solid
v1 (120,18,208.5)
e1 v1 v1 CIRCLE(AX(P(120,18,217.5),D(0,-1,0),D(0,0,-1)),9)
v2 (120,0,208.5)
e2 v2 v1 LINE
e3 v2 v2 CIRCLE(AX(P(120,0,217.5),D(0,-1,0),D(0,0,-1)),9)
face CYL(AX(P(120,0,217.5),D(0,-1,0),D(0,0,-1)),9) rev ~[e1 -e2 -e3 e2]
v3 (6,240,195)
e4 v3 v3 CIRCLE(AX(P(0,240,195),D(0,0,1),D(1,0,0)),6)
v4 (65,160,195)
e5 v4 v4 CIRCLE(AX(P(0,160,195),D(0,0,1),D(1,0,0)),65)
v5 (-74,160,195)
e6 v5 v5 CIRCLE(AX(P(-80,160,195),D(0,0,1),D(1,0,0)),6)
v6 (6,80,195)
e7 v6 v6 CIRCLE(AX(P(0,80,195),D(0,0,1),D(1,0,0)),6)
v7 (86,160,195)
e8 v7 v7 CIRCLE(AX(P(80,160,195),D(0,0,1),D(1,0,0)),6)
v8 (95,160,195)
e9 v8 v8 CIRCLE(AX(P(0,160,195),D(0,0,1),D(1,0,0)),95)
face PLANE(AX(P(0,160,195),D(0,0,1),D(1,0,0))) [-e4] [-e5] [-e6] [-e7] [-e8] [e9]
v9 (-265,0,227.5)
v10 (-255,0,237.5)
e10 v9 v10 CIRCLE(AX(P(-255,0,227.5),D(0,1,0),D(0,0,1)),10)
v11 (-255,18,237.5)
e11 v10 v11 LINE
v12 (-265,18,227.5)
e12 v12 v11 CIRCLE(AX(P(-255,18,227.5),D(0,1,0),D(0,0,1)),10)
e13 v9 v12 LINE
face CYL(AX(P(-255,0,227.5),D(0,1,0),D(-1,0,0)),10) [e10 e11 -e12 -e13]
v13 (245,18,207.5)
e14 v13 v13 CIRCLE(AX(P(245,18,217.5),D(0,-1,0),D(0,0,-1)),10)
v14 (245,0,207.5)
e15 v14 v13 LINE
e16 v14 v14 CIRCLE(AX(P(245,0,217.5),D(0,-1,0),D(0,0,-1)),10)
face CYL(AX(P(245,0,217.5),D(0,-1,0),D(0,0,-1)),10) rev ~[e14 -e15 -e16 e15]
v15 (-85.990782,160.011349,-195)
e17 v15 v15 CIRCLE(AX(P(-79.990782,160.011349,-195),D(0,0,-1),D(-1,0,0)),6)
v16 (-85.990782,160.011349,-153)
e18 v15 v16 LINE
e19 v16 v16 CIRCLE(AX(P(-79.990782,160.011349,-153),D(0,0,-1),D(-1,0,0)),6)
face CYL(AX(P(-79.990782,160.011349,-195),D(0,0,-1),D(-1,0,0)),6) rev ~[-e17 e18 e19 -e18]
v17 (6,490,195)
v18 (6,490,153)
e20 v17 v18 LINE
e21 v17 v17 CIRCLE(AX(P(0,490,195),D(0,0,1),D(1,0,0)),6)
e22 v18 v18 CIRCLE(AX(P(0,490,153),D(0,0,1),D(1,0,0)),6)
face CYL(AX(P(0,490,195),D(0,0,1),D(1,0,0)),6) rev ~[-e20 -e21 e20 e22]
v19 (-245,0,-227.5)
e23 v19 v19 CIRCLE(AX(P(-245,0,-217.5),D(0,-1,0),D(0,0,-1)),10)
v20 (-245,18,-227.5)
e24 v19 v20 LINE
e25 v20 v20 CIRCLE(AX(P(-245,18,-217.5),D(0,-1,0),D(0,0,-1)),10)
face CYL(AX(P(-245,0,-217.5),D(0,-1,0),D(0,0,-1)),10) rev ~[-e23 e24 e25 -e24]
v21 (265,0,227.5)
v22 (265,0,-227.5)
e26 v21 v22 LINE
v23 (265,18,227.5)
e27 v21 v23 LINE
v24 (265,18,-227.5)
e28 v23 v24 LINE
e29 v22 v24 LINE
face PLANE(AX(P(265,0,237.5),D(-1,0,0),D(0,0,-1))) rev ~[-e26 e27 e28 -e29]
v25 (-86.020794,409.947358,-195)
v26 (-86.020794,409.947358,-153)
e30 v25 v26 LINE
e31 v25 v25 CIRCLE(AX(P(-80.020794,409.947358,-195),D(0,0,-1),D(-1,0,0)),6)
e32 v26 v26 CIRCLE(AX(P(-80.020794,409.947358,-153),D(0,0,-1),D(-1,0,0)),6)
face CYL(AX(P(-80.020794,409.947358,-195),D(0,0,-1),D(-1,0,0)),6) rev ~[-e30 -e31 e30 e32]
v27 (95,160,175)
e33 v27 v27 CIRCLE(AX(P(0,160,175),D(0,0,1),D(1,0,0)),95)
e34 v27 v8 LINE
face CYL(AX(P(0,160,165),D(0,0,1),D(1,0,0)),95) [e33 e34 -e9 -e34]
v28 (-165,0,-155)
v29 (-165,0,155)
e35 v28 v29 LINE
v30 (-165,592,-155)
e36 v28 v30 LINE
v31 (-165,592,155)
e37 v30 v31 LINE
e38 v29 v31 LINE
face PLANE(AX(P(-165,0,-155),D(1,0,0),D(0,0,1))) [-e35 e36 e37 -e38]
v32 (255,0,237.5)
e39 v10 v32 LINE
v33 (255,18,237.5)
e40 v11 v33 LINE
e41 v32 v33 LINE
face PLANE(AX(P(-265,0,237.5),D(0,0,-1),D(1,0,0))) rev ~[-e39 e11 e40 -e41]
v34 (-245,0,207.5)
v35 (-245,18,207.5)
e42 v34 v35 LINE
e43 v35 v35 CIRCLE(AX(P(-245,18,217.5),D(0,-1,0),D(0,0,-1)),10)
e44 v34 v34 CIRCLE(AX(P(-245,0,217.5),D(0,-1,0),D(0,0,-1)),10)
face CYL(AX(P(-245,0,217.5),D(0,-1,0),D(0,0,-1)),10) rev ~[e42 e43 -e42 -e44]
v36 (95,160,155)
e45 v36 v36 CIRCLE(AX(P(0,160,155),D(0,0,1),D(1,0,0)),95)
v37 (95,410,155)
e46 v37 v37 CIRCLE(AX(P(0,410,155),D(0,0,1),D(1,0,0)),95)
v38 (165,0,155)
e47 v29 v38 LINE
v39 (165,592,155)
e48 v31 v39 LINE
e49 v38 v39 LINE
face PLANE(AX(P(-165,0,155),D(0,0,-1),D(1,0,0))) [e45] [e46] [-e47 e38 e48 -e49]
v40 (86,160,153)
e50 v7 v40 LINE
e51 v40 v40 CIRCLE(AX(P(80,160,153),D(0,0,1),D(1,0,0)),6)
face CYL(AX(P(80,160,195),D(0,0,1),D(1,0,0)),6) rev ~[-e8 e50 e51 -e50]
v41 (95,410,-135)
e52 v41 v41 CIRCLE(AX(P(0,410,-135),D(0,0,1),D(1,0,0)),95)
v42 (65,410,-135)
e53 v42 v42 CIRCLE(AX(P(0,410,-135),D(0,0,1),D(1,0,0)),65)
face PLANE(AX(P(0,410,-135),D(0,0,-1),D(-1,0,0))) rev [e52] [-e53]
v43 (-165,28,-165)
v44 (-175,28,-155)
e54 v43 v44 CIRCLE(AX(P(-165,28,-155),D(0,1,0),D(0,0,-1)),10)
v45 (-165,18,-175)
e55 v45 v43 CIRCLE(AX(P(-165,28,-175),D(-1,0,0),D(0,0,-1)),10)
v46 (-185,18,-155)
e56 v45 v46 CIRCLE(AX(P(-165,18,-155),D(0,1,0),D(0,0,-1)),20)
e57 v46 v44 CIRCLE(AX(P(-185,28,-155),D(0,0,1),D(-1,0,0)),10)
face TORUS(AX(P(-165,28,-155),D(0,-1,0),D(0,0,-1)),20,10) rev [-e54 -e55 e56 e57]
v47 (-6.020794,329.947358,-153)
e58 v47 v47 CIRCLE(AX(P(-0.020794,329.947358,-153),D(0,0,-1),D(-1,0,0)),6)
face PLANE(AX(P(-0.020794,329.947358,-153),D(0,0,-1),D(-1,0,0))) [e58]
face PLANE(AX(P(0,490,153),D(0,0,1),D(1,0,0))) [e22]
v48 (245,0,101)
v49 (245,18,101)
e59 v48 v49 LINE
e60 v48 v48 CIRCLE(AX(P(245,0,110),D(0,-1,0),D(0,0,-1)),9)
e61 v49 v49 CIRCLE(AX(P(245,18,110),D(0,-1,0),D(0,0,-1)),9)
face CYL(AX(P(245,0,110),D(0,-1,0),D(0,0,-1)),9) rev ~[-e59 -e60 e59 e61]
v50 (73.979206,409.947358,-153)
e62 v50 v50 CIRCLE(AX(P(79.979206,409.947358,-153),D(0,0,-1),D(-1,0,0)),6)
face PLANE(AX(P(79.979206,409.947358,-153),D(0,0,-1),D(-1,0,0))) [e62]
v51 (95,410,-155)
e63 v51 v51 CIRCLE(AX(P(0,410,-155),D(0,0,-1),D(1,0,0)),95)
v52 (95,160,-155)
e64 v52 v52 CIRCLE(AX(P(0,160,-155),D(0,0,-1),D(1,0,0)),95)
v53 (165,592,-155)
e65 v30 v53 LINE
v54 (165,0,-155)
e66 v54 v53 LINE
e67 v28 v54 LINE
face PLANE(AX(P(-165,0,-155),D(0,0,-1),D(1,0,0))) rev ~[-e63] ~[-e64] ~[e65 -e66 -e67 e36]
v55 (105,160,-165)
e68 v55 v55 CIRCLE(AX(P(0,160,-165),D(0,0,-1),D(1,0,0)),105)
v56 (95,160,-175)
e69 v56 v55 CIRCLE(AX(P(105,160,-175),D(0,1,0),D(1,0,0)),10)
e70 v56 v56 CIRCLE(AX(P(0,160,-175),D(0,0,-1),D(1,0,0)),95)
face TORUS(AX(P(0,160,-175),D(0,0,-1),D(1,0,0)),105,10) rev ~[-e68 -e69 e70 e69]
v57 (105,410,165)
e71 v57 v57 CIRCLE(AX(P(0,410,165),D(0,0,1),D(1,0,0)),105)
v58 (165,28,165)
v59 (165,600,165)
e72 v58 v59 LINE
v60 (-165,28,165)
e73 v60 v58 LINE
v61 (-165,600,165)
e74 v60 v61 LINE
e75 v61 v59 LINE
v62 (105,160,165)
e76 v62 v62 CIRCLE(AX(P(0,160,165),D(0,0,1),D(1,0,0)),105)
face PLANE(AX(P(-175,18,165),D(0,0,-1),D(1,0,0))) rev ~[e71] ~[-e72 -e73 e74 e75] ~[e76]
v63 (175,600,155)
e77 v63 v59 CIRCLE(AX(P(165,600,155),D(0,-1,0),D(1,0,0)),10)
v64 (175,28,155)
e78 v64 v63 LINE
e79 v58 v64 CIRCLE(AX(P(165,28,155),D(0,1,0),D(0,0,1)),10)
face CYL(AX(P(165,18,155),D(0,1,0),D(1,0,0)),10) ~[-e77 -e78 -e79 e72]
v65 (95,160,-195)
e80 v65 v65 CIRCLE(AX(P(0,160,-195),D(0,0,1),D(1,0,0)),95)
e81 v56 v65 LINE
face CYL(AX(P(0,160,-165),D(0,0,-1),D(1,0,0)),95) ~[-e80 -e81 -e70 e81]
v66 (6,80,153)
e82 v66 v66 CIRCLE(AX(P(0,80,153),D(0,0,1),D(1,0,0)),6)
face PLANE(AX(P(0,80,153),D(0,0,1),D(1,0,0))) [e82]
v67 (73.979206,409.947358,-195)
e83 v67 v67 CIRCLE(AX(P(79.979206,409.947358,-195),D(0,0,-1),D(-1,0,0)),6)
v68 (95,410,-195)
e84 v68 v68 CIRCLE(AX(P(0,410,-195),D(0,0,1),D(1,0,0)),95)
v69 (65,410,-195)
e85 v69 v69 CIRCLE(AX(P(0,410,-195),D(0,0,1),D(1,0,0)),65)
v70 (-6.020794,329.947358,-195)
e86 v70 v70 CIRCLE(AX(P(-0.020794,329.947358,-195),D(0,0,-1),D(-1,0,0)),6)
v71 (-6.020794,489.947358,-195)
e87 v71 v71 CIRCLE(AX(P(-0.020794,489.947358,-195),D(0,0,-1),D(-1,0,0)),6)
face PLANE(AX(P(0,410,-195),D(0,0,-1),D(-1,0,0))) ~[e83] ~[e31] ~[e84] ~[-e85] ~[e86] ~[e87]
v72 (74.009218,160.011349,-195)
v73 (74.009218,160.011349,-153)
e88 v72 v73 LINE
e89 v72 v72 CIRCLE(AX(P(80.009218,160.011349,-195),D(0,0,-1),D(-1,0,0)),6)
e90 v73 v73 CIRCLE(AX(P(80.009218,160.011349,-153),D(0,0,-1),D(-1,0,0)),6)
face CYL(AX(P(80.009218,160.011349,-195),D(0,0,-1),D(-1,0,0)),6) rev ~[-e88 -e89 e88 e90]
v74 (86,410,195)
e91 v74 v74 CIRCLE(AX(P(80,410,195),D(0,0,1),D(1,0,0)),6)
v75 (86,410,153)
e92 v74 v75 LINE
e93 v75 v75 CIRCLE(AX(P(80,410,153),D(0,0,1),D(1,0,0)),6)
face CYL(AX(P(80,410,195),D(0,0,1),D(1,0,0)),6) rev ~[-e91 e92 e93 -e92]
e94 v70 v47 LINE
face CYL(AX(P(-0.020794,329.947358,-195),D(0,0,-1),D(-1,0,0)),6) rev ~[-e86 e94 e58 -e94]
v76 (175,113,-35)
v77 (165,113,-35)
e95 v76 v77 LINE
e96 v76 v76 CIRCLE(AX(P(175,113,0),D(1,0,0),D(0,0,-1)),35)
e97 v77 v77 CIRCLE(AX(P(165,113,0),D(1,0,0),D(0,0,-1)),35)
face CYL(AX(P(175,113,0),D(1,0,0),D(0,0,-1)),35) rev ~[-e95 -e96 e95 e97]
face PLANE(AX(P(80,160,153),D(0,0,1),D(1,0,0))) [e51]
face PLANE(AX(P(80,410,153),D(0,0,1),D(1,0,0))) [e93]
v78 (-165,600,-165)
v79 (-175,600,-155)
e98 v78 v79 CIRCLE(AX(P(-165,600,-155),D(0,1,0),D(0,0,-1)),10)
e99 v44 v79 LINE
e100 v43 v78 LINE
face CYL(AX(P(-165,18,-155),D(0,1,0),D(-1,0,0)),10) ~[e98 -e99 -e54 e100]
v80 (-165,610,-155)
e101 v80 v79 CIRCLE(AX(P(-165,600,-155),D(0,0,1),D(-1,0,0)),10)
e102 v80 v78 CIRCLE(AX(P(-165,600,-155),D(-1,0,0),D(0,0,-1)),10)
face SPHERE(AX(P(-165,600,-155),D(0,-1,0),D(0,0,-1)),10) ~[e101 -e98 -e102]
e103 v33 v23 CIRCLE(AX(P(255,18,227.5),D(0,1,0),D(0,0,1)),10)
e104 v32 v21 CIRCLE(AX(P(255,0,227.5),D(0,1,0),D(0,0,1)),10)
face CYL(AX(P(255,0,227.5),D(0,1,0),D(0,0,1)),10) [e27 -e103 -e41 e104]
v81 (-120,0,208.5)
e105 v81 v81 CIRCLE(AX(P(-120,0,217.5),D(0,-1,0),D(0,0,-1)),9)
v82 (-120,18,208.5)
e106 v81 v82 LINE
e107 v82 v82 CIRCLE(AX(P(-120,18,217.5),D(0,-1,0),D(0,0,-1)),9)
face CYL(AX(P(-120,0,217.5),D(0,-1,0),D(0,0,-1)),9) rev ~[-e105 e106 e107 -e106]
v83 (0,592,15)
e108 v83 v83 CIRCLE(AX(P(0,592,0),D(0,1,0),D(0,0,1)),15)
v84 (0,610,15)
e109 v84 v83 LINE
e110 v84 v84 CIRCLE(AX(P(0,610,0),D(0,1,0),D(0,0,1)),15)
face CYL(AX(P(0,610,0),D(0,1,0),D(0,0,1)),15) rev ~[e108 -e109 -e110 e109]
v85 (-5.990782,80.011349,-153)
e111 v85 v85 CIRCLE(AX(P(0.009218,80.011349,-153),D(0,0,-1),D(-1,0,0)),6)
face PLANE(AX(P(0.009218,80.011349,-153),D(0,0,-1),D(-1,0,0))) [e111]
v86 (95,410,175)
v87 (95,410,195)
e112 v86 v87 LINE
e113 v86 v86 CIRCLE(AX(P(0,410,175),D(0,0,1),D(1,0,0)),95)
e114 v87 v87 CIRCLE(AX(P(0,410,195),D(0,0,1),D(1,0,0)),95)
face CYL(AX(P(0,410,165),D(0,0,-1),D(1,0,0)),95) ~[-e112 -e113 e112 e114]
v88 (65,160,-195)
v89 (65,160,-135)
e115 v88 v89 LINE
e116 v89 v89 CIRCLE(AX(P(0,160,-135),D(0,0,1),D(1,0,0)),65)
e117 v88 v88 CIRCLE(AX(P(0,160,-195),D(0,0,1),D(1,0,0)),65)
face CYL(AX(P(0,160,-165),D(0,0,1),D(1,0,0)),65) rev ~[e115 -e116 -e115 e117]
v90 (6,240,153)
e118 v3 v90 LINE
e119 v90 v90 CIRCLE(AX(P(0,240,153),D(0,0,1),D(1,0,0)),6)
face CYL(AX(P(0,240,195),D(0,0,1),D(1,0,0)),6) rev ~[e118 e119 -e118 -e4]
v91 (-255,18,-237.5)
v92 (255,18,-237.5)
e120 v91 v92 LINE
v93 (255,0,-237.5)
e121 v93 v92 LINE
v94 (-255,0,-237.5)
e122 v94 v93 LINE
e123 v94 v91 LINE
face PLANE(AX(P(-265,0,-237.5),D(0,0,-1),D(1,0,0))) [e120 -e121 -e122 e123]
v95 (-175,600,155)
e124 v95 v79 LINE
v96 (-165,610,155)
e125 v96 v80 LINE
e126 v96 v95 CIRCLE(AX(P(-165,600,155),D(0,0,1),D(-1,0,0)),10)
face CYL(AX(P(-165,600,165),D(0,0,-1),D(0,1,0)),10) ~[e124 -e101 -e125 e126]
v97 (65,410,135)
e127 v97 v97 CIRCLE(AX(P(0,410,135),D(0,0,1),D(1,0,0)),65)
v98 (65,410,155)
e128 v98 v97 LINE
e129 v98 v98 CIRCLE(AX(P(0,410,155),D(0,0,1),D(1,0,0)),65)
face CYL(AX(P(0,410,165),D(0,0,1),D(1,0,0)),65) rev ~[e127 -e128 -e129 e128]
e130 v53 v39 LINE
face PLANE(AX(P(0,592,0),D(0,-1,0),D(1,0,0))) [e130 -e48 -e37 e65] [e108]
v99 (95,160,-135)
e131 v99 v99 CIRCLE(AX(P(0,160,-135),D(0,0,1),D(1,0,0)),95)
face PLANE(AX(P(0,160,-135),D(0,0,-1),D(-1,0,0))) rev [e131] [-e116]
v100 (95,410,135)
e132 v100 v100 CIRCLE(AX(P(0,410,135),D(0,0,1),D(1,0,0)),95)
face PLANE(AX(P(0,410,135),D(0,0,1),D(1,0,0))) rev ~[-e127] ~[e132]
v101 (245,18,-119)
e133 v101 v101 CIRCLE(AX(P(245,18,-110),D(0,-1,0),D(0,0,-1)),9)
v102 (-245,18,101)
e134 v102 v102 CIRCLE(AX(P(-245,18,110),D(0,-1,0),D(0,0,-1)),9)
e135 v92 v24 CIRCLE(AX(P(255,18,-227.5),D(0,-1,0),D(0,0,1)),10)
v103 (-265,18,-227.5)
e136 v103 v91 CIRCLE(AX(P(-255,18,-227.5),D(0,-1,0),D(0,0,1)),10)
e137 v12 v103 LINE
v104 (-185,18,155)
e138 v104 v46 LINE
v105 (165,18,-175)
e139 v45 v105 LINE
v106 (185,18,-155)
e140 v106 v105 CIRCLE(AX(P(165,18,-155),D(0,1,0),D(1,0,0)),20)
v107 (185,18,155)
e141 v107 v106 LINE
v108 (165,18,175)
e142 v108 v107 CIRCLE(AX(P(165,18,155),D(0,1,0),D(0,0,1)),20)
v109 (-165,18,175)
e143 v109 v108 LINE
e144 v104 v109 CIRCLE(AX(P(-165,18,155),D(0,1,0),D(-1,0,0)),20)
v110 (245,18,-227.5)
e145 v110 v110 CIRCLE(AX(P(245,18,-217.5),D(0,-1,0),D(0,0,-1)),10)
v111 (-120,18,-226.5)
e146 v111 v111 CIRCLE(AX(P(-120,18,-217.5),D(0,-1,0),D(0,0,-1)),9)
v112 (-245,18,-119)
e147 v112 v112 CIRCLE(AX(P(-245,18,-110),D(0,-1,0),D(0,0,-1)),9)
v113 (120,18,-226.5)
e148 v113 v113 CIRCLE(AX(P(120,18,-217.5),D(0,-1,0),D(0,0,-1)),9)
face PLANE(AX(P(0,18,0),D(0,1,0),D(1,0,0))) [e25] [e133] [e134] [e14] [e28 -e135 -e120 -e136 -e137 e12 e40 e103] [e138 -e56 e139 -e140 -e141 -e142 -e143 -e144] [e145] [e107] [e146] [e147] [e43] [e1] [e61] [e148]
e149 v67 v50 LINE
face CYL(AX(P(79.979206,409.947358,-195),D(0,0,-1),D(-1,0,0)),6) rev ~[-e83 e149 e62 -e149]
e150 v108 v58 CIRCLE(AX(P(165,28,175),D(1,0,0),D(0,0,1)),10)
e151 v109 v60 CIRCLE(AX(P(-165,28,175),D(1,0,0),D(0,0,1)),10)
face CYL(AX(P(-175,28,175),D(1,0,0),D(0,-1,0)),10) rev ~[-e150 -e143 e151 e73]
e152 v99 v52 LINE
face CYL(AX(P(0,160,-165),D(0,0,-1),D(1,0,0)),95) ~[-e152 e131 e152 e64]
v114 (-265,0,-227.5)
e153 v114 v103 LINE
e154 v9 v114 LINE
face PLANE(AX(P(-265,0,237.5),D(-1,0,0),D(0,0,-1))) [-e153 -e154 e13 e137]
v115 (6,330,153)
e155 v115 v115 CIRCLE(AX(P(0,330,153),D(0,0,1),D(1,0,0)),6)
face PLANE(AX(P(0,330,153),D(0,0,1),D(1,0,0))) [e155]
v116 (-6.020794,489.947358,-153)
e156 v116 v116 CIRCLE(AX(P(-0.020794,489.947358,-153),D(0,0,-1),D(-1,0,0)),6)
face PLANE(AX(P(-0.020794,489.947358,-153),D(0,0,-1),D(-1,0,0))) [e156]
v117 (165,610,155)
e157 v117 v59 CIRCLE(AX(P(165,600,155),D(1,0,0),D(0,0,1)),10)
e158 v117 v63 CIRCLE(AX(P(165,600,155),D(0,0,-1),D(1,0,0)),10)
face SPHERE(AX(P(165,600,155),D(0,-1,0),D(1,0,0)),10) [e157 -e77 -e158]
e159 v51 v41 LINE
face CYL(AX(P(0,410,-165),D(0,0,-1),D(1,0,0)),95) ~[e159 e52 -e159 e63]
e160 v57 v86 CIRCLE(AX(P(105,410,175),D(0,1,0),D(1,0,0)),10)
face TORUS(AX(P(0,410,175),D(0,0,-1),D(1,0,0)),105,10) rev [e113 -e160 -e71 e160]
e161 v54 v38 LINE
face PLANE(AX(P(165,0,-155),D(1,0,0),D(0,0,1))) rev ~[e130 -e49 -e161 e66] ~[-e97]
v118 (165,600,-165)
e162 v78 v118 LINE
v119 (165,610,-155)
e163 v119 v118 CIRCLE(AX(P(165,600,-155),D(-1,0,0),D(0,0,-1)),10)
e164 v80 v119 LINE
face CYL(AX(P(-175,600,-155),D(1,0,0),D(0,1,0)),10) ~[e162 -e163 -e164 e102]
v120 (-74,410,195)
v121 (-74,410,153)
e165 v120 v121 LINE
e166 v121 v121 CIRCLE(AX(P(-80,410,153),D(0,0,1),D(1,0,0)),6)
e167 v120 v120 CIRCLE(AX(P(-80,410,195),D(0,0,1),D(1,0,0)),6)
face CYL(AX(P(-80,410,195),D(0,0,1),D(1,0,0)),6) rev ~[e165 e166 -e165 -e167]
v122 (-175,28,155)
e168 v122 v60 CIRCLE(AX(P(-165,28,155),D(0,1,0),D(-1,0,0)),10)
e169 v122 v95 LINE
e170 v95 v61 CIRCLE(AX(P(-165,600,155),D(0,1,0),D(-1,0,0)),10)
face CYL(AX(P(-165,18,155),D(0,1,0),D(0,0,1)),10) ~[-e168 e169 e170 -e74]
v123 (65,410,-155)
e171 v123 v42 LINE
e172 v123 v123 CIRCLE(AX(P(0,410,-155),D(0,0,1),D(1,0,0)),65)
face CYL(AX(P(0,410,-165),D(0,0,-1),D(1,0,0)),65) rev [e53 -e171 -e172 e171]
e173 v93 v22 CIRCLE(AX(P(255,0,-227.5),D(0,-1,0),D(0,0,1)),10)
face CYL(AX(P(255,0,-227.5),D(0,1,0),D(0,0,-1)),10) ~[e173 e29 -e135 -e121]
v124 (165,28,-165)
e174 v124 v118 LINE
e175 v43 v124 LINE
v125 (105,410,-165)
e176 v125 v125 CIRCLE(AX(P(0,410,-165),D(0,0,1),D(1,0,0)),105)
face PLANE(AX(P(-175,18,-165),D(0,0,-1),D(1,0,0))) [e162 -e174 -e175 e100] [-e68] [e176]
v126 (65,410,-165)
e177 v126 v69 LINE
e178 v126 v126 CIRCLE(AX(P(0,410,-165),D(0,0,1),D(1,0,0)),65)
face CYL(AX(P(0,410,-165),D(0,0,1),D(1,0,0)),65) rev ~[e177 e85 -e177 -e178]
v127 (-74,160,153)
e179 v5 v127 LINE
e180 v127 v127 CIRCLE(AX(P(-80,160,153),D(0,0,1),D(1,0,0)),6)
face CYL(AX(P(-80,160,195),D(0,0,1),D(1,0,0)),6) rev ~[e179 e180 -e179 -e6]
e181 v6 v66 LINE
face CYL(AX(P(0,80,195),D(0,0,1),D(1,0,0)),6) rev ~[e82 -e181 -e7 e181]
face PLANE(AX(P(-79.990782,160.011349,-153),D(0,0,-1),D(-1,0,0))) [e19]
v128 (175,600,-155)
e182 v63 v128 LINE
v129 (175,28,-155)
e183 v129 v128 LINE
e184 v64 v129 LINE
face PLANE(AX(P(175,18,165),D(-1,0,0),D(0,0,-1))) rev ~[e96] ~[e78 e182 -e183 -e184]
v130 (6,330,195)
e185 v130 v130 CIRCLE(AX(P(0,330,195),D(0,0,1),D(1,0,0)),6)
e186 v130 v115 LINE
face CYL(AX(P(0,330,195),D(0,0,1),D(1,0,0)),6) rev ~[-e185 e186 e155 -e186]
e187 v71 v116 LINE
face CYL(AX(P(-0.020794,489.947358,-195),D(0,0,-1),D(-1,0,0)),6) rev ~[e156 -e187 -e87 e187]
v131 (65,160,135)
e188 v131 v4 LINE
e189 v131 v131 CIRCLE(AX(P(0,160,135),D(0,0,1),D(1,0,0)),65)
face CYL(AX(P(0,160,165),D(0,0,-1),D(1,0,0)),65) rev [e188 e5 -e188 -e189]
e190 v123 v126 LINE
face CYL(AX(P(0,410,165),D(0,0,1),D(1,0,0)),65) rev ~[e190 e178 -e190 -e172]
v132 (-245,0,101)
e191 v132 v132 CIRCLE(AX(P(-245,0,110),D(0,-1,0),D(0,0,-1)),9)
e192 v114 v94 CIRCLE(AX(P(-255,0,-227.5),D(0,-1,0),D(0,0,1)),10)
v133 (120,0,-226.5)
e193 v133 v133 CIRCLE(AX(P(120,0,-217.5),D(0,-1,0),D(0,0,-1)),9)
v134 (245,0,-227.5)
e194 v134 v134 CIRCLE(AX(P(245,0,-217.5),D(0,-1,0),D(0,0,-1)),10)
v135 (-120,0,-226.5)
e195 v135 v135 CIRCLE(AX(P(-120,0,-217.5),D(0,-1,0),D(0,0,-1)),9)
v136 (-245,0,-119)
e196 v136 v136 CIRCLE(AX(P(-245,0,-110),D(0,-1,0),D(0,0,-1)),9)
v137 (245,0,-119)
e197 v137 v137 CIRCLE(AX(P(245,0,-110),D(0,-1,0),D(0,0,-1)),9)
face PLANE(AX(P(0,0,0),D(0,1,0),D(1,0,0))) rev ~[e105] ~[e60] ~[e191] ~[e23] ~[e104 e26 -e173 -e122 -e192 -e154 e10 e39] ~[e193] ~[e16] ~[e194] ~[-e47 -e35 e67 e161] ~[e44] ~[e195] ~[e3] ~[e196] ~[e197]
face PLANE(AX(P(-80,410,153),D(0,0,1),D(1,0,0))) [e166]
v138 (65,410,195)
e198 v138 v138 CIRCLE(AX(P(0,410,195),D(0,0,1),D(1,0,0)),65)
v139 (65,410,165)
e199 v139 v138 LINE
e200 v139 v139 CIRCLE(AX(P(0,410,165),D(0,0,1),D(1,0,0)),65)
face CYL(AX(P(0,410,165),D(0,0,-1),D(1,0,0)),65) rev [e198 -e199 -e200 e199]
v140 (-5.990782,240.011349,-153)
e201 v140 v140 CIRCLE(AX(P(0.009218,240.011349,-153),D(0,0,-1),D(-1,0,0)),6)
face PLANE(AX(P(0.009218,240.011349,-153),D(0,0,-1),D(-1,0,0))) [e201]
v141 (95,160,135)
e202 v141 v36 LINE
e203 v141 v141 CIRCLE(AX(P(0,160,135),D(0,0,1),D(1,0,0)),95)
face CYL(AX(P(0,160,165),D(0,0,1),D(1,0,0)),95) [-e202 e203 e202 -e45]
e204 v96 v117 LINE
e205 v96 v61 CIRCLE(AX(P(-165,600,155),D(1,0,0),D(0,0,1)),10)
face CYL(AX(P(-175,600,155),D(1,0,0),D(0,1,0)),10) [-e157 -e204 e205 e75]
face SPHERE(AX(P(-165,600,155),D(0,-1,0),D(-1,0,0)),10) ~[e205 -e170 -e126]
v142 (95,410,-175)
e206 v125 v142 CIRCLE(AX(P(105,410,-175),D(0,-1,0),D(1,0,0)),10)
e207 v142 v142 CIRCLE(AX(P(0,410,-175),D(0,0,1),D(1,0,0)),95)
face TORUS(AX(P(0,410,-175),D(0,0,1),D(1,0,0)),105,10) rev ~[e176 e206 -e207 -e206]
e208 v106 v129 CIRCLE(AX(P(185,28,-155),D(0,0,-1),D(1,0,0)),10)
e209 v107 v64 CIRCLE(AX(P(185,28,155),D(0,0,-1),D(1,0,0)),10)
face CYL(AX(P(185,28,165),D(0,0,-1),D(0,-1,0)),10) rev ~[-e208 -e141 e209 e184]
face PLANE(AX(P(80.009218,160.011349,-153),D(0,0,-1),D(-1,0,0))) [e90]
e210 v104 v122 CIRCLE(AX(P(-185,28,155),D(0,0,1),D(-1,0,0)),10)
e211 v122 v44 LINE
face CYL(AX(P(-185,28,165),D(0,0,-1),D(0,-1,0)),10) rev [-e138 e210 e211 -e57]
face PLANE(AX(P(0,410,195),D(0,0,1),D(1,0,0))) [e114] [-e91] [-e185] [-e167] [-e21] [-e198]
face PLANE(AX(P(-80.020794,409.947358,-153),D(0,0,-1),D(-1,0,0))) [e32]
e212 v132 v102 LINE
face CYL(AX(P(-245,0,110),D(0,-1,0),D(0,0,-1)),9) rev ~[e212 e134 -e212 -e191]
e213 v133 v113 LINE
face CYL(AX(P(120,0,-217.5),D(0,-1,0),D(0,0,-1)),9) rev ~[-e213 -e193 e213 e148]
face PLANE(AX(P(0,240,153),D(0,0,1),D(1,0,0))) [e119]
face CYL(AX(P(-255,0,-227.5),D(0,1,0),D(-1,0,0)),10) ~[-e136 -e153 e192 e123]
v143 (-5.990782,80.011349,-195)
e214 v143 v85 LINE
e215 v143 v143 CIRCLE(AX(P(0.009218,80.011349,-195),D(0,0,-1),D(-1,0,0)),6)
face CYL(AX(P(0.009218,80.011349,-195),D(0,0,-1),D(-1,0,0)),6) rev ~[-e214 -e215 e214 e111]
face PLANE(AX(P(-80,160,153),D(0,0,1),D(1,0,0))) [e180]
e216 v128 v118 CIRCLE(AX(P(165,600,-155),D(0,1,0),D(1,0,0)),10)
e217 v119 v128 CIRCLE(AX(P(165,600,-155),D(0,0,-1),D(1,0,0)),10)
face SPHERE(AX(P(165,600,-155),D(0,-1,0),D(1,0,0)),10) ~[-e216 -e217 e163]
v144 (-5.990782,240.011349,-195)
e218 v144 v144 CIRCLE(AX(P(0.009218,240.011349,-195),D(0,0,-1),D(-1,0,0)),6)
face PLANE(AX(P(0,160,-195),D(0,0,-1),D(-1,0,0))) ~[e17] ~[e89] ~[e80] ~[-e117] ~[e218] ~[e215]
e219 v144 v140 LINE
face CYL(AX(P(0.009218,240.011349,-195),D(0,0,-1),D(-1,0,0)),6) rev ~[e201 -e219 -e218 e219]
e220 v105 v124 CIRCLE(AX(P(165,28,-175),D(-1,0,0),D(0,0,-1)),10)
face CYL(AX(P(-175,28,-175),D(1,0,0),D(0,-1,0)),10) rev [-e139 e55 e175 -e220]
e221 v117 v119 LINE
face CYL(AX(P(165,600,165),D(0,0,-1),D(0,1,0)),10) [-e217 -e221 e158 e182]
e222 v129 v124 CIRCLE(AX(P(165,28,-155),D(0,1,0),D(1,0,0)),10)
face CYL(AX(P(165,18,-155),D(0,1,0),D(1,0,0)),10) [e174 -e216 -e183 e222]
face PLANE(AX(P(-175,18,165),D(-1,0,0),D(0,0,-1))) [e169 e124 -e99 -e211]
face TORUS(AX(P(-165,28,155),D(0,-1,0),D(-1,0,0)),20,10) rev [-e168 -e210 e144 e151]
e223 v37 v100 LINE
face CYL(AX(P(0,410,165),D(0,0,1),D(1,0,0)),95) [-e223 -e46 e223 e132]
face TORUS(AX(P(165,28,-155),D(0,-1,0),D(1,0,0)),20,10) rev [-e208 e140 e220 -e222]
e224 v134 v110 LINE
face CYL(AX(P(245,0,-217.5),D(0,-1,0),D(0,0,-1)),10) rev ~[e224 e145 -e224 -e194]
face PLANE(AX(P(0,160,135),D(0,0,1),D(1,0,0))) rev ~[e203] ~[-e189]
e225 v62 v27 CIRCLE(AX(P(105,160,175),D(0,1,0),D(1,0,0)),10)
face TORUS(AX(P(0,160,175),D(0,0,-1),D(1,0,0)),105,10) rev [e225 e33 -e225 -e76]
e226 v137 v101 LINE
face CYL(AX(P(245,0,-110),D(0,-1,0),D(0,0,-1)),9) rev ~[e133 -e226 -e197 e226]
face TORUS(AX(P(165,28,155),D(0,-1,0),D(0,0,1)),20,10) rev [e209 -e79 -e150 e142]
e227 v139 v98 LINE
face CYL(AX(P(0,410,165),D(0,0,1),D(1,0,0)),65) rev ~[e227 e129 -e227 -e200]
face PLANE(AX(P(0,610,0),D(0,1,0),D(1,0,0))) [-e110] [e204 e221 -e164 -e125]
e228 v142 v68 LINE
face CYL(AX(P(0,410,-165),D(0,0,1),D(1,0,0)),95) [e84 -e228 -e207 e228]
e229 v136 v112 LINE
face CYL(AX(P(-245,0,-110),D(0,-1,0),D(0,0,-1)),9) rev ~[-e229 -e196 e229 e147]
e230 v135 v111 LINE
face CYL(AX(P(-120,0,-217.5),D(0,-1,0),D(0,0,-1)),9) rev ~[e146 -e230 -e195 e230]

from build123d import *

# Parameters (mm, degrees)
SKETCH1_W           = 530
SKETCH1_H           = 475
BOSS_EXTRUDE1_DEPTH = 18
SKETCH2_W           = 350
SKETCH2_H           = 330
BOSS_EXTRUDE2_DEPTH = 592
SKETCH3_W           = 330
SKETCH3_H           = 310
CUT_EXTRUDE1_DEPTH  = 592
SKETCH4_R           = 10
SKETCH4_R_2         = 9
CUT_EXTRUDE2_DEPTH  = 707.20906961
SKETCH5_R           = 65
CUT_EXTRUDE3_DEPTH  = 778.387451661
SKETCH6_R           = 95
SKETCH6_R_2         = 65
BOSS_EXTRUDE4_DEPTH = 30
SKETCH8_R           = 6
CUT_EXTRUDE5_DEPTH  = 42
SKETCH9_R           = 6
CUT_EXTRUDE6_DEPTH  = 42
SKETCH10_R          = 15
CUT_EXTRUDE7_DEPTH  = 707.20906961
SKETCH11_R          = 35
CUT_EXTRUDE8_DEPTH  = 42
FILLET1_R           = 10
SKETCH12_R          = 6
CUT_EXTRUDE9_DEPTH  = 42


with BuildPart() as part:
    # Sketch1 → Boss-Extrude1 (new body)
    with BuildSketch(Plane(origin=(0, 0, 0), x_dir=(1, 0, 0), z_dir=(0, 1, 0))):
        Rectangle(SKETCH1_W, SKETCH1_H)
    extrude(amount=BOSS_EXTRUDE1_DEPTH)

    # Sketch2 → Boss-Extrude2 (add)
    with BuildSketch(Plane(origin=(0, 18, 0), x_dir=(1, 0, 0), z_dir=(0, 1, 0))):
        Rectangle(SKETCH2_W, SKETCH2_H)
    extrude(amount=BOSS_EXTRUDE2_DEPTH)

    # Sketch3 → Cut-Extrude1 (cut)
    with BuildSketch(Plane.XZ):
        Rectangle(SKETCH3_W, SKETCH3_H)
    extrude(amount=-CUT_EXTRUDE1_DEPTH, mode=Mode.SUBTRACT)

    # Sketch4 → Cut-Extrude2 (cut, through all)
    with BuildSketch(Plane.XZ):
        with Locations(Location((-245, 217.5, 0), (0, 0, 270))):
            Circle(SKETCH4_R)
        with Locations(Location((-120, 217.5, 0), (0, 0, 270))):
            Circle(SKETCH4_R_2)
        with Locations(Location((-245, 110, 0), (0, 0, 270))):
            Circle(SKETCH4_R_2)
        with Locations(Location((245, 110, 0), (0, 0, 270))):
            Circle(SKETCH4_R_2)
        with Locations(Location((120, 217.5, 0), (0, 0, 270))):
            Circle(SKETCH4_R_2)
        with Locations(Location((245, 217.5, 0), (0, 0, 270))):
            Circle(SKETCH4_R)
        with Locations(Location((245, -110, 0), (0, 0, 270))):
            Circle(SKETCH4_R_2)
        with Locations(Location((245, -217.5, 0), (0, 0, 270))):
            Circle(SKETCH4_R)
        with Locations(Location((120, -217.5, 0), (0, 0, 270))):
            Circle(SKETCH4_R_2)
        with Locations(Location((-120, -217.5, 0), (0, 0, 270))):
            Circle(SKETCH4_R_2)
        with Locations(Location((-245, -217.5, 0), (0, 0, 270))):
            Circle(SKETCH4_R)
        with Locations(Location((-245, -110, 0), (0, 0, 270))):
            Circle(SKETCH4_R_2)
    extrude(amount=-CUT_EXTRUDE2_DEPTH, mode=Mode.SUBTRACT)

    # Sketch5 → Cut-Extrude3 (cut, through all)
    with BuildSketch(Plane.XY.offset(165)):
        with Locations((0, 410)):
            Circle(SKETCH5_R)
        with Locations((0, 160)):
            Circle(SKETCH5_R)
    extrude(amount=-CUT_EXTRUDE3_DEPTH, mode=Mode.SUBTRACT)

    # Sketch6 → Boss-Extrude4 (add, symmetric)
    # profile 1 of 2: a face of its own
    with BuildSketch(Plane.XY.offset(165)):
        with Locations((0, 410)):
            Circle(SKETCH6_R)
        with Locations((0, 410)):
            Circle(SKETCH6_R_2, mode=Mode.SUBTRACT)
    # profile 2 of 2: a face of its own
    with BuildSketch(Plane.XY.offset(165)):
        with Locations((0, 160)):
            Circle(SKETCH6_R)
        with Locations((0, 160)):
            Circle(SKETCH6_R_2, mode=Mode.SUBTRACT)
    boss_extrude4 = extrude(amount=BOSS_EXTRUDE4_DEPTH, both=True)

    # Mirror1: Boss-Extrude4 across plane
    add(boss_extrude4.mirror(Plane.XY))

    # Sketch8 → Cut-Extrude5 (cut)
    with BuildSketch(Plane.XY.offset(195)):
        with Locations((0, 490)):
            Circle(SKETCH8_R)
        with Locations((80, 410)):
            Circle(SKETCH8_R)
        with Locations((0, 330)):
            Circle(SKETCH8_R)
        with Locations((-80, 410)):
            Circle(SKETCH8_R)
    extrude(amount=-CUT_EXTRUDE5_DEPTH, mode=Mode.SUBTRACT)

    # Sketch9 → Cut-Extrude6 (cut)
    with BuildSketch(Plane.XY.offset(195)):
        with Locations((0, 240)):
            Circle(SKETCH9_R)
        with Locations((80, 160)):
            Circle(SKETCH9_R)
        with Locations((0, 80)):
            Circle(SKETCH9_R)
        with Locations((-80, 160)):
            Circle(SKETCH9_R)
    extrude(amount=-CUT_EXTRUDE6_DEPTH, mode=Mode.SUBTRACT)

    # Sketch10 → Cut-Extrude7 (cut, through all)
    with BuildSketch(Plane(origin=(0, 610, 0), x_dir=(1, 0, 0), z_dir=(0, 1, 0))):
        with Locations(Location((0, 0, 0), (0, 0, 270))):
            Circle(SKETCH10_R)
    extrude(amount=-CUT_EXTRUDE7_DEPTH, mode=Mode.SUBTRACT)

    # Sketch11 → Cut-Extrude8 (cut)
    with BuildSketch(Plane(origin=(175, 0, 0), x_dir=(0, 0, -1), z_dir=(1, 0, 0))):
        with Locations((0, 113)):
            Circle(SKETCH11_R)
    extrude(amount=-CUT_EXTRUDE8_DEPTH, mode=Mode.SUBTRACT)

    # Fillet1
    fillet1_edges = [part.edges().sort_by_distance(p)[0] for p in [
        (-95, 410, 165),
        (-95, 160, 165),
        (175, 18, 0),
        (175, 314, 165),
        (0, 18, -165),
        (-95, 410, -165),
        (175, 314, -165),
        (-175, 18, 0),
        (-175, 314, -165),
        (0, 18, 165),
        (-95, 160, -165),
        (-175, 314, 165),
        (175, 610, 0),
        (0, 610, -165),
        (-175, 610, 0),
        (0, 610, 165),
        (265, 9, 237.5),
        (-265, 9, 237.5),
        (-265, 9, -237.5),
        (265, 9, -237.5),
    ]]
    fillet(fillet1_edges, radius=FILLET1_R)

    # Sketch12 → Cut-Extrude9 (cut)
    with BuildSketch(Plane(origin=(0, 0, -195), x_dir=(-1, 0, 0), z_dir=(0, 0, -1))):
        with Locations((-0.00921784, 240.011349017)):
            Circle(SKETCH12_R)
        with Locations((79.99078216, 160.011349017)):
            Circle(SKETCH12_R)
        with Locations((-0.00921784, 80.011349017)):
            Circle(SKETCH12_R)
        with Locations((-80.00921784, 160.011349017)):
            Circle(SKETCH12_R)
        with Locations((0.020793884, 489.947358351)):
            Circle(SKETCH12_R)
        with Locations((80.020793884, 409.947358351)):
            Circle(SKETCH12_R)
        with Locations((0.020793884, 329.947358351)):
            Circle(SKETCH12_R)
        with Locations((-79.979206116, 409.947358351)):
            Circle(SKETCH12_R)
    extrude(amount=-CUT_EXTRUDE9_DEPTH, mode=Mode.SUBTRACT)


solid = part.part
